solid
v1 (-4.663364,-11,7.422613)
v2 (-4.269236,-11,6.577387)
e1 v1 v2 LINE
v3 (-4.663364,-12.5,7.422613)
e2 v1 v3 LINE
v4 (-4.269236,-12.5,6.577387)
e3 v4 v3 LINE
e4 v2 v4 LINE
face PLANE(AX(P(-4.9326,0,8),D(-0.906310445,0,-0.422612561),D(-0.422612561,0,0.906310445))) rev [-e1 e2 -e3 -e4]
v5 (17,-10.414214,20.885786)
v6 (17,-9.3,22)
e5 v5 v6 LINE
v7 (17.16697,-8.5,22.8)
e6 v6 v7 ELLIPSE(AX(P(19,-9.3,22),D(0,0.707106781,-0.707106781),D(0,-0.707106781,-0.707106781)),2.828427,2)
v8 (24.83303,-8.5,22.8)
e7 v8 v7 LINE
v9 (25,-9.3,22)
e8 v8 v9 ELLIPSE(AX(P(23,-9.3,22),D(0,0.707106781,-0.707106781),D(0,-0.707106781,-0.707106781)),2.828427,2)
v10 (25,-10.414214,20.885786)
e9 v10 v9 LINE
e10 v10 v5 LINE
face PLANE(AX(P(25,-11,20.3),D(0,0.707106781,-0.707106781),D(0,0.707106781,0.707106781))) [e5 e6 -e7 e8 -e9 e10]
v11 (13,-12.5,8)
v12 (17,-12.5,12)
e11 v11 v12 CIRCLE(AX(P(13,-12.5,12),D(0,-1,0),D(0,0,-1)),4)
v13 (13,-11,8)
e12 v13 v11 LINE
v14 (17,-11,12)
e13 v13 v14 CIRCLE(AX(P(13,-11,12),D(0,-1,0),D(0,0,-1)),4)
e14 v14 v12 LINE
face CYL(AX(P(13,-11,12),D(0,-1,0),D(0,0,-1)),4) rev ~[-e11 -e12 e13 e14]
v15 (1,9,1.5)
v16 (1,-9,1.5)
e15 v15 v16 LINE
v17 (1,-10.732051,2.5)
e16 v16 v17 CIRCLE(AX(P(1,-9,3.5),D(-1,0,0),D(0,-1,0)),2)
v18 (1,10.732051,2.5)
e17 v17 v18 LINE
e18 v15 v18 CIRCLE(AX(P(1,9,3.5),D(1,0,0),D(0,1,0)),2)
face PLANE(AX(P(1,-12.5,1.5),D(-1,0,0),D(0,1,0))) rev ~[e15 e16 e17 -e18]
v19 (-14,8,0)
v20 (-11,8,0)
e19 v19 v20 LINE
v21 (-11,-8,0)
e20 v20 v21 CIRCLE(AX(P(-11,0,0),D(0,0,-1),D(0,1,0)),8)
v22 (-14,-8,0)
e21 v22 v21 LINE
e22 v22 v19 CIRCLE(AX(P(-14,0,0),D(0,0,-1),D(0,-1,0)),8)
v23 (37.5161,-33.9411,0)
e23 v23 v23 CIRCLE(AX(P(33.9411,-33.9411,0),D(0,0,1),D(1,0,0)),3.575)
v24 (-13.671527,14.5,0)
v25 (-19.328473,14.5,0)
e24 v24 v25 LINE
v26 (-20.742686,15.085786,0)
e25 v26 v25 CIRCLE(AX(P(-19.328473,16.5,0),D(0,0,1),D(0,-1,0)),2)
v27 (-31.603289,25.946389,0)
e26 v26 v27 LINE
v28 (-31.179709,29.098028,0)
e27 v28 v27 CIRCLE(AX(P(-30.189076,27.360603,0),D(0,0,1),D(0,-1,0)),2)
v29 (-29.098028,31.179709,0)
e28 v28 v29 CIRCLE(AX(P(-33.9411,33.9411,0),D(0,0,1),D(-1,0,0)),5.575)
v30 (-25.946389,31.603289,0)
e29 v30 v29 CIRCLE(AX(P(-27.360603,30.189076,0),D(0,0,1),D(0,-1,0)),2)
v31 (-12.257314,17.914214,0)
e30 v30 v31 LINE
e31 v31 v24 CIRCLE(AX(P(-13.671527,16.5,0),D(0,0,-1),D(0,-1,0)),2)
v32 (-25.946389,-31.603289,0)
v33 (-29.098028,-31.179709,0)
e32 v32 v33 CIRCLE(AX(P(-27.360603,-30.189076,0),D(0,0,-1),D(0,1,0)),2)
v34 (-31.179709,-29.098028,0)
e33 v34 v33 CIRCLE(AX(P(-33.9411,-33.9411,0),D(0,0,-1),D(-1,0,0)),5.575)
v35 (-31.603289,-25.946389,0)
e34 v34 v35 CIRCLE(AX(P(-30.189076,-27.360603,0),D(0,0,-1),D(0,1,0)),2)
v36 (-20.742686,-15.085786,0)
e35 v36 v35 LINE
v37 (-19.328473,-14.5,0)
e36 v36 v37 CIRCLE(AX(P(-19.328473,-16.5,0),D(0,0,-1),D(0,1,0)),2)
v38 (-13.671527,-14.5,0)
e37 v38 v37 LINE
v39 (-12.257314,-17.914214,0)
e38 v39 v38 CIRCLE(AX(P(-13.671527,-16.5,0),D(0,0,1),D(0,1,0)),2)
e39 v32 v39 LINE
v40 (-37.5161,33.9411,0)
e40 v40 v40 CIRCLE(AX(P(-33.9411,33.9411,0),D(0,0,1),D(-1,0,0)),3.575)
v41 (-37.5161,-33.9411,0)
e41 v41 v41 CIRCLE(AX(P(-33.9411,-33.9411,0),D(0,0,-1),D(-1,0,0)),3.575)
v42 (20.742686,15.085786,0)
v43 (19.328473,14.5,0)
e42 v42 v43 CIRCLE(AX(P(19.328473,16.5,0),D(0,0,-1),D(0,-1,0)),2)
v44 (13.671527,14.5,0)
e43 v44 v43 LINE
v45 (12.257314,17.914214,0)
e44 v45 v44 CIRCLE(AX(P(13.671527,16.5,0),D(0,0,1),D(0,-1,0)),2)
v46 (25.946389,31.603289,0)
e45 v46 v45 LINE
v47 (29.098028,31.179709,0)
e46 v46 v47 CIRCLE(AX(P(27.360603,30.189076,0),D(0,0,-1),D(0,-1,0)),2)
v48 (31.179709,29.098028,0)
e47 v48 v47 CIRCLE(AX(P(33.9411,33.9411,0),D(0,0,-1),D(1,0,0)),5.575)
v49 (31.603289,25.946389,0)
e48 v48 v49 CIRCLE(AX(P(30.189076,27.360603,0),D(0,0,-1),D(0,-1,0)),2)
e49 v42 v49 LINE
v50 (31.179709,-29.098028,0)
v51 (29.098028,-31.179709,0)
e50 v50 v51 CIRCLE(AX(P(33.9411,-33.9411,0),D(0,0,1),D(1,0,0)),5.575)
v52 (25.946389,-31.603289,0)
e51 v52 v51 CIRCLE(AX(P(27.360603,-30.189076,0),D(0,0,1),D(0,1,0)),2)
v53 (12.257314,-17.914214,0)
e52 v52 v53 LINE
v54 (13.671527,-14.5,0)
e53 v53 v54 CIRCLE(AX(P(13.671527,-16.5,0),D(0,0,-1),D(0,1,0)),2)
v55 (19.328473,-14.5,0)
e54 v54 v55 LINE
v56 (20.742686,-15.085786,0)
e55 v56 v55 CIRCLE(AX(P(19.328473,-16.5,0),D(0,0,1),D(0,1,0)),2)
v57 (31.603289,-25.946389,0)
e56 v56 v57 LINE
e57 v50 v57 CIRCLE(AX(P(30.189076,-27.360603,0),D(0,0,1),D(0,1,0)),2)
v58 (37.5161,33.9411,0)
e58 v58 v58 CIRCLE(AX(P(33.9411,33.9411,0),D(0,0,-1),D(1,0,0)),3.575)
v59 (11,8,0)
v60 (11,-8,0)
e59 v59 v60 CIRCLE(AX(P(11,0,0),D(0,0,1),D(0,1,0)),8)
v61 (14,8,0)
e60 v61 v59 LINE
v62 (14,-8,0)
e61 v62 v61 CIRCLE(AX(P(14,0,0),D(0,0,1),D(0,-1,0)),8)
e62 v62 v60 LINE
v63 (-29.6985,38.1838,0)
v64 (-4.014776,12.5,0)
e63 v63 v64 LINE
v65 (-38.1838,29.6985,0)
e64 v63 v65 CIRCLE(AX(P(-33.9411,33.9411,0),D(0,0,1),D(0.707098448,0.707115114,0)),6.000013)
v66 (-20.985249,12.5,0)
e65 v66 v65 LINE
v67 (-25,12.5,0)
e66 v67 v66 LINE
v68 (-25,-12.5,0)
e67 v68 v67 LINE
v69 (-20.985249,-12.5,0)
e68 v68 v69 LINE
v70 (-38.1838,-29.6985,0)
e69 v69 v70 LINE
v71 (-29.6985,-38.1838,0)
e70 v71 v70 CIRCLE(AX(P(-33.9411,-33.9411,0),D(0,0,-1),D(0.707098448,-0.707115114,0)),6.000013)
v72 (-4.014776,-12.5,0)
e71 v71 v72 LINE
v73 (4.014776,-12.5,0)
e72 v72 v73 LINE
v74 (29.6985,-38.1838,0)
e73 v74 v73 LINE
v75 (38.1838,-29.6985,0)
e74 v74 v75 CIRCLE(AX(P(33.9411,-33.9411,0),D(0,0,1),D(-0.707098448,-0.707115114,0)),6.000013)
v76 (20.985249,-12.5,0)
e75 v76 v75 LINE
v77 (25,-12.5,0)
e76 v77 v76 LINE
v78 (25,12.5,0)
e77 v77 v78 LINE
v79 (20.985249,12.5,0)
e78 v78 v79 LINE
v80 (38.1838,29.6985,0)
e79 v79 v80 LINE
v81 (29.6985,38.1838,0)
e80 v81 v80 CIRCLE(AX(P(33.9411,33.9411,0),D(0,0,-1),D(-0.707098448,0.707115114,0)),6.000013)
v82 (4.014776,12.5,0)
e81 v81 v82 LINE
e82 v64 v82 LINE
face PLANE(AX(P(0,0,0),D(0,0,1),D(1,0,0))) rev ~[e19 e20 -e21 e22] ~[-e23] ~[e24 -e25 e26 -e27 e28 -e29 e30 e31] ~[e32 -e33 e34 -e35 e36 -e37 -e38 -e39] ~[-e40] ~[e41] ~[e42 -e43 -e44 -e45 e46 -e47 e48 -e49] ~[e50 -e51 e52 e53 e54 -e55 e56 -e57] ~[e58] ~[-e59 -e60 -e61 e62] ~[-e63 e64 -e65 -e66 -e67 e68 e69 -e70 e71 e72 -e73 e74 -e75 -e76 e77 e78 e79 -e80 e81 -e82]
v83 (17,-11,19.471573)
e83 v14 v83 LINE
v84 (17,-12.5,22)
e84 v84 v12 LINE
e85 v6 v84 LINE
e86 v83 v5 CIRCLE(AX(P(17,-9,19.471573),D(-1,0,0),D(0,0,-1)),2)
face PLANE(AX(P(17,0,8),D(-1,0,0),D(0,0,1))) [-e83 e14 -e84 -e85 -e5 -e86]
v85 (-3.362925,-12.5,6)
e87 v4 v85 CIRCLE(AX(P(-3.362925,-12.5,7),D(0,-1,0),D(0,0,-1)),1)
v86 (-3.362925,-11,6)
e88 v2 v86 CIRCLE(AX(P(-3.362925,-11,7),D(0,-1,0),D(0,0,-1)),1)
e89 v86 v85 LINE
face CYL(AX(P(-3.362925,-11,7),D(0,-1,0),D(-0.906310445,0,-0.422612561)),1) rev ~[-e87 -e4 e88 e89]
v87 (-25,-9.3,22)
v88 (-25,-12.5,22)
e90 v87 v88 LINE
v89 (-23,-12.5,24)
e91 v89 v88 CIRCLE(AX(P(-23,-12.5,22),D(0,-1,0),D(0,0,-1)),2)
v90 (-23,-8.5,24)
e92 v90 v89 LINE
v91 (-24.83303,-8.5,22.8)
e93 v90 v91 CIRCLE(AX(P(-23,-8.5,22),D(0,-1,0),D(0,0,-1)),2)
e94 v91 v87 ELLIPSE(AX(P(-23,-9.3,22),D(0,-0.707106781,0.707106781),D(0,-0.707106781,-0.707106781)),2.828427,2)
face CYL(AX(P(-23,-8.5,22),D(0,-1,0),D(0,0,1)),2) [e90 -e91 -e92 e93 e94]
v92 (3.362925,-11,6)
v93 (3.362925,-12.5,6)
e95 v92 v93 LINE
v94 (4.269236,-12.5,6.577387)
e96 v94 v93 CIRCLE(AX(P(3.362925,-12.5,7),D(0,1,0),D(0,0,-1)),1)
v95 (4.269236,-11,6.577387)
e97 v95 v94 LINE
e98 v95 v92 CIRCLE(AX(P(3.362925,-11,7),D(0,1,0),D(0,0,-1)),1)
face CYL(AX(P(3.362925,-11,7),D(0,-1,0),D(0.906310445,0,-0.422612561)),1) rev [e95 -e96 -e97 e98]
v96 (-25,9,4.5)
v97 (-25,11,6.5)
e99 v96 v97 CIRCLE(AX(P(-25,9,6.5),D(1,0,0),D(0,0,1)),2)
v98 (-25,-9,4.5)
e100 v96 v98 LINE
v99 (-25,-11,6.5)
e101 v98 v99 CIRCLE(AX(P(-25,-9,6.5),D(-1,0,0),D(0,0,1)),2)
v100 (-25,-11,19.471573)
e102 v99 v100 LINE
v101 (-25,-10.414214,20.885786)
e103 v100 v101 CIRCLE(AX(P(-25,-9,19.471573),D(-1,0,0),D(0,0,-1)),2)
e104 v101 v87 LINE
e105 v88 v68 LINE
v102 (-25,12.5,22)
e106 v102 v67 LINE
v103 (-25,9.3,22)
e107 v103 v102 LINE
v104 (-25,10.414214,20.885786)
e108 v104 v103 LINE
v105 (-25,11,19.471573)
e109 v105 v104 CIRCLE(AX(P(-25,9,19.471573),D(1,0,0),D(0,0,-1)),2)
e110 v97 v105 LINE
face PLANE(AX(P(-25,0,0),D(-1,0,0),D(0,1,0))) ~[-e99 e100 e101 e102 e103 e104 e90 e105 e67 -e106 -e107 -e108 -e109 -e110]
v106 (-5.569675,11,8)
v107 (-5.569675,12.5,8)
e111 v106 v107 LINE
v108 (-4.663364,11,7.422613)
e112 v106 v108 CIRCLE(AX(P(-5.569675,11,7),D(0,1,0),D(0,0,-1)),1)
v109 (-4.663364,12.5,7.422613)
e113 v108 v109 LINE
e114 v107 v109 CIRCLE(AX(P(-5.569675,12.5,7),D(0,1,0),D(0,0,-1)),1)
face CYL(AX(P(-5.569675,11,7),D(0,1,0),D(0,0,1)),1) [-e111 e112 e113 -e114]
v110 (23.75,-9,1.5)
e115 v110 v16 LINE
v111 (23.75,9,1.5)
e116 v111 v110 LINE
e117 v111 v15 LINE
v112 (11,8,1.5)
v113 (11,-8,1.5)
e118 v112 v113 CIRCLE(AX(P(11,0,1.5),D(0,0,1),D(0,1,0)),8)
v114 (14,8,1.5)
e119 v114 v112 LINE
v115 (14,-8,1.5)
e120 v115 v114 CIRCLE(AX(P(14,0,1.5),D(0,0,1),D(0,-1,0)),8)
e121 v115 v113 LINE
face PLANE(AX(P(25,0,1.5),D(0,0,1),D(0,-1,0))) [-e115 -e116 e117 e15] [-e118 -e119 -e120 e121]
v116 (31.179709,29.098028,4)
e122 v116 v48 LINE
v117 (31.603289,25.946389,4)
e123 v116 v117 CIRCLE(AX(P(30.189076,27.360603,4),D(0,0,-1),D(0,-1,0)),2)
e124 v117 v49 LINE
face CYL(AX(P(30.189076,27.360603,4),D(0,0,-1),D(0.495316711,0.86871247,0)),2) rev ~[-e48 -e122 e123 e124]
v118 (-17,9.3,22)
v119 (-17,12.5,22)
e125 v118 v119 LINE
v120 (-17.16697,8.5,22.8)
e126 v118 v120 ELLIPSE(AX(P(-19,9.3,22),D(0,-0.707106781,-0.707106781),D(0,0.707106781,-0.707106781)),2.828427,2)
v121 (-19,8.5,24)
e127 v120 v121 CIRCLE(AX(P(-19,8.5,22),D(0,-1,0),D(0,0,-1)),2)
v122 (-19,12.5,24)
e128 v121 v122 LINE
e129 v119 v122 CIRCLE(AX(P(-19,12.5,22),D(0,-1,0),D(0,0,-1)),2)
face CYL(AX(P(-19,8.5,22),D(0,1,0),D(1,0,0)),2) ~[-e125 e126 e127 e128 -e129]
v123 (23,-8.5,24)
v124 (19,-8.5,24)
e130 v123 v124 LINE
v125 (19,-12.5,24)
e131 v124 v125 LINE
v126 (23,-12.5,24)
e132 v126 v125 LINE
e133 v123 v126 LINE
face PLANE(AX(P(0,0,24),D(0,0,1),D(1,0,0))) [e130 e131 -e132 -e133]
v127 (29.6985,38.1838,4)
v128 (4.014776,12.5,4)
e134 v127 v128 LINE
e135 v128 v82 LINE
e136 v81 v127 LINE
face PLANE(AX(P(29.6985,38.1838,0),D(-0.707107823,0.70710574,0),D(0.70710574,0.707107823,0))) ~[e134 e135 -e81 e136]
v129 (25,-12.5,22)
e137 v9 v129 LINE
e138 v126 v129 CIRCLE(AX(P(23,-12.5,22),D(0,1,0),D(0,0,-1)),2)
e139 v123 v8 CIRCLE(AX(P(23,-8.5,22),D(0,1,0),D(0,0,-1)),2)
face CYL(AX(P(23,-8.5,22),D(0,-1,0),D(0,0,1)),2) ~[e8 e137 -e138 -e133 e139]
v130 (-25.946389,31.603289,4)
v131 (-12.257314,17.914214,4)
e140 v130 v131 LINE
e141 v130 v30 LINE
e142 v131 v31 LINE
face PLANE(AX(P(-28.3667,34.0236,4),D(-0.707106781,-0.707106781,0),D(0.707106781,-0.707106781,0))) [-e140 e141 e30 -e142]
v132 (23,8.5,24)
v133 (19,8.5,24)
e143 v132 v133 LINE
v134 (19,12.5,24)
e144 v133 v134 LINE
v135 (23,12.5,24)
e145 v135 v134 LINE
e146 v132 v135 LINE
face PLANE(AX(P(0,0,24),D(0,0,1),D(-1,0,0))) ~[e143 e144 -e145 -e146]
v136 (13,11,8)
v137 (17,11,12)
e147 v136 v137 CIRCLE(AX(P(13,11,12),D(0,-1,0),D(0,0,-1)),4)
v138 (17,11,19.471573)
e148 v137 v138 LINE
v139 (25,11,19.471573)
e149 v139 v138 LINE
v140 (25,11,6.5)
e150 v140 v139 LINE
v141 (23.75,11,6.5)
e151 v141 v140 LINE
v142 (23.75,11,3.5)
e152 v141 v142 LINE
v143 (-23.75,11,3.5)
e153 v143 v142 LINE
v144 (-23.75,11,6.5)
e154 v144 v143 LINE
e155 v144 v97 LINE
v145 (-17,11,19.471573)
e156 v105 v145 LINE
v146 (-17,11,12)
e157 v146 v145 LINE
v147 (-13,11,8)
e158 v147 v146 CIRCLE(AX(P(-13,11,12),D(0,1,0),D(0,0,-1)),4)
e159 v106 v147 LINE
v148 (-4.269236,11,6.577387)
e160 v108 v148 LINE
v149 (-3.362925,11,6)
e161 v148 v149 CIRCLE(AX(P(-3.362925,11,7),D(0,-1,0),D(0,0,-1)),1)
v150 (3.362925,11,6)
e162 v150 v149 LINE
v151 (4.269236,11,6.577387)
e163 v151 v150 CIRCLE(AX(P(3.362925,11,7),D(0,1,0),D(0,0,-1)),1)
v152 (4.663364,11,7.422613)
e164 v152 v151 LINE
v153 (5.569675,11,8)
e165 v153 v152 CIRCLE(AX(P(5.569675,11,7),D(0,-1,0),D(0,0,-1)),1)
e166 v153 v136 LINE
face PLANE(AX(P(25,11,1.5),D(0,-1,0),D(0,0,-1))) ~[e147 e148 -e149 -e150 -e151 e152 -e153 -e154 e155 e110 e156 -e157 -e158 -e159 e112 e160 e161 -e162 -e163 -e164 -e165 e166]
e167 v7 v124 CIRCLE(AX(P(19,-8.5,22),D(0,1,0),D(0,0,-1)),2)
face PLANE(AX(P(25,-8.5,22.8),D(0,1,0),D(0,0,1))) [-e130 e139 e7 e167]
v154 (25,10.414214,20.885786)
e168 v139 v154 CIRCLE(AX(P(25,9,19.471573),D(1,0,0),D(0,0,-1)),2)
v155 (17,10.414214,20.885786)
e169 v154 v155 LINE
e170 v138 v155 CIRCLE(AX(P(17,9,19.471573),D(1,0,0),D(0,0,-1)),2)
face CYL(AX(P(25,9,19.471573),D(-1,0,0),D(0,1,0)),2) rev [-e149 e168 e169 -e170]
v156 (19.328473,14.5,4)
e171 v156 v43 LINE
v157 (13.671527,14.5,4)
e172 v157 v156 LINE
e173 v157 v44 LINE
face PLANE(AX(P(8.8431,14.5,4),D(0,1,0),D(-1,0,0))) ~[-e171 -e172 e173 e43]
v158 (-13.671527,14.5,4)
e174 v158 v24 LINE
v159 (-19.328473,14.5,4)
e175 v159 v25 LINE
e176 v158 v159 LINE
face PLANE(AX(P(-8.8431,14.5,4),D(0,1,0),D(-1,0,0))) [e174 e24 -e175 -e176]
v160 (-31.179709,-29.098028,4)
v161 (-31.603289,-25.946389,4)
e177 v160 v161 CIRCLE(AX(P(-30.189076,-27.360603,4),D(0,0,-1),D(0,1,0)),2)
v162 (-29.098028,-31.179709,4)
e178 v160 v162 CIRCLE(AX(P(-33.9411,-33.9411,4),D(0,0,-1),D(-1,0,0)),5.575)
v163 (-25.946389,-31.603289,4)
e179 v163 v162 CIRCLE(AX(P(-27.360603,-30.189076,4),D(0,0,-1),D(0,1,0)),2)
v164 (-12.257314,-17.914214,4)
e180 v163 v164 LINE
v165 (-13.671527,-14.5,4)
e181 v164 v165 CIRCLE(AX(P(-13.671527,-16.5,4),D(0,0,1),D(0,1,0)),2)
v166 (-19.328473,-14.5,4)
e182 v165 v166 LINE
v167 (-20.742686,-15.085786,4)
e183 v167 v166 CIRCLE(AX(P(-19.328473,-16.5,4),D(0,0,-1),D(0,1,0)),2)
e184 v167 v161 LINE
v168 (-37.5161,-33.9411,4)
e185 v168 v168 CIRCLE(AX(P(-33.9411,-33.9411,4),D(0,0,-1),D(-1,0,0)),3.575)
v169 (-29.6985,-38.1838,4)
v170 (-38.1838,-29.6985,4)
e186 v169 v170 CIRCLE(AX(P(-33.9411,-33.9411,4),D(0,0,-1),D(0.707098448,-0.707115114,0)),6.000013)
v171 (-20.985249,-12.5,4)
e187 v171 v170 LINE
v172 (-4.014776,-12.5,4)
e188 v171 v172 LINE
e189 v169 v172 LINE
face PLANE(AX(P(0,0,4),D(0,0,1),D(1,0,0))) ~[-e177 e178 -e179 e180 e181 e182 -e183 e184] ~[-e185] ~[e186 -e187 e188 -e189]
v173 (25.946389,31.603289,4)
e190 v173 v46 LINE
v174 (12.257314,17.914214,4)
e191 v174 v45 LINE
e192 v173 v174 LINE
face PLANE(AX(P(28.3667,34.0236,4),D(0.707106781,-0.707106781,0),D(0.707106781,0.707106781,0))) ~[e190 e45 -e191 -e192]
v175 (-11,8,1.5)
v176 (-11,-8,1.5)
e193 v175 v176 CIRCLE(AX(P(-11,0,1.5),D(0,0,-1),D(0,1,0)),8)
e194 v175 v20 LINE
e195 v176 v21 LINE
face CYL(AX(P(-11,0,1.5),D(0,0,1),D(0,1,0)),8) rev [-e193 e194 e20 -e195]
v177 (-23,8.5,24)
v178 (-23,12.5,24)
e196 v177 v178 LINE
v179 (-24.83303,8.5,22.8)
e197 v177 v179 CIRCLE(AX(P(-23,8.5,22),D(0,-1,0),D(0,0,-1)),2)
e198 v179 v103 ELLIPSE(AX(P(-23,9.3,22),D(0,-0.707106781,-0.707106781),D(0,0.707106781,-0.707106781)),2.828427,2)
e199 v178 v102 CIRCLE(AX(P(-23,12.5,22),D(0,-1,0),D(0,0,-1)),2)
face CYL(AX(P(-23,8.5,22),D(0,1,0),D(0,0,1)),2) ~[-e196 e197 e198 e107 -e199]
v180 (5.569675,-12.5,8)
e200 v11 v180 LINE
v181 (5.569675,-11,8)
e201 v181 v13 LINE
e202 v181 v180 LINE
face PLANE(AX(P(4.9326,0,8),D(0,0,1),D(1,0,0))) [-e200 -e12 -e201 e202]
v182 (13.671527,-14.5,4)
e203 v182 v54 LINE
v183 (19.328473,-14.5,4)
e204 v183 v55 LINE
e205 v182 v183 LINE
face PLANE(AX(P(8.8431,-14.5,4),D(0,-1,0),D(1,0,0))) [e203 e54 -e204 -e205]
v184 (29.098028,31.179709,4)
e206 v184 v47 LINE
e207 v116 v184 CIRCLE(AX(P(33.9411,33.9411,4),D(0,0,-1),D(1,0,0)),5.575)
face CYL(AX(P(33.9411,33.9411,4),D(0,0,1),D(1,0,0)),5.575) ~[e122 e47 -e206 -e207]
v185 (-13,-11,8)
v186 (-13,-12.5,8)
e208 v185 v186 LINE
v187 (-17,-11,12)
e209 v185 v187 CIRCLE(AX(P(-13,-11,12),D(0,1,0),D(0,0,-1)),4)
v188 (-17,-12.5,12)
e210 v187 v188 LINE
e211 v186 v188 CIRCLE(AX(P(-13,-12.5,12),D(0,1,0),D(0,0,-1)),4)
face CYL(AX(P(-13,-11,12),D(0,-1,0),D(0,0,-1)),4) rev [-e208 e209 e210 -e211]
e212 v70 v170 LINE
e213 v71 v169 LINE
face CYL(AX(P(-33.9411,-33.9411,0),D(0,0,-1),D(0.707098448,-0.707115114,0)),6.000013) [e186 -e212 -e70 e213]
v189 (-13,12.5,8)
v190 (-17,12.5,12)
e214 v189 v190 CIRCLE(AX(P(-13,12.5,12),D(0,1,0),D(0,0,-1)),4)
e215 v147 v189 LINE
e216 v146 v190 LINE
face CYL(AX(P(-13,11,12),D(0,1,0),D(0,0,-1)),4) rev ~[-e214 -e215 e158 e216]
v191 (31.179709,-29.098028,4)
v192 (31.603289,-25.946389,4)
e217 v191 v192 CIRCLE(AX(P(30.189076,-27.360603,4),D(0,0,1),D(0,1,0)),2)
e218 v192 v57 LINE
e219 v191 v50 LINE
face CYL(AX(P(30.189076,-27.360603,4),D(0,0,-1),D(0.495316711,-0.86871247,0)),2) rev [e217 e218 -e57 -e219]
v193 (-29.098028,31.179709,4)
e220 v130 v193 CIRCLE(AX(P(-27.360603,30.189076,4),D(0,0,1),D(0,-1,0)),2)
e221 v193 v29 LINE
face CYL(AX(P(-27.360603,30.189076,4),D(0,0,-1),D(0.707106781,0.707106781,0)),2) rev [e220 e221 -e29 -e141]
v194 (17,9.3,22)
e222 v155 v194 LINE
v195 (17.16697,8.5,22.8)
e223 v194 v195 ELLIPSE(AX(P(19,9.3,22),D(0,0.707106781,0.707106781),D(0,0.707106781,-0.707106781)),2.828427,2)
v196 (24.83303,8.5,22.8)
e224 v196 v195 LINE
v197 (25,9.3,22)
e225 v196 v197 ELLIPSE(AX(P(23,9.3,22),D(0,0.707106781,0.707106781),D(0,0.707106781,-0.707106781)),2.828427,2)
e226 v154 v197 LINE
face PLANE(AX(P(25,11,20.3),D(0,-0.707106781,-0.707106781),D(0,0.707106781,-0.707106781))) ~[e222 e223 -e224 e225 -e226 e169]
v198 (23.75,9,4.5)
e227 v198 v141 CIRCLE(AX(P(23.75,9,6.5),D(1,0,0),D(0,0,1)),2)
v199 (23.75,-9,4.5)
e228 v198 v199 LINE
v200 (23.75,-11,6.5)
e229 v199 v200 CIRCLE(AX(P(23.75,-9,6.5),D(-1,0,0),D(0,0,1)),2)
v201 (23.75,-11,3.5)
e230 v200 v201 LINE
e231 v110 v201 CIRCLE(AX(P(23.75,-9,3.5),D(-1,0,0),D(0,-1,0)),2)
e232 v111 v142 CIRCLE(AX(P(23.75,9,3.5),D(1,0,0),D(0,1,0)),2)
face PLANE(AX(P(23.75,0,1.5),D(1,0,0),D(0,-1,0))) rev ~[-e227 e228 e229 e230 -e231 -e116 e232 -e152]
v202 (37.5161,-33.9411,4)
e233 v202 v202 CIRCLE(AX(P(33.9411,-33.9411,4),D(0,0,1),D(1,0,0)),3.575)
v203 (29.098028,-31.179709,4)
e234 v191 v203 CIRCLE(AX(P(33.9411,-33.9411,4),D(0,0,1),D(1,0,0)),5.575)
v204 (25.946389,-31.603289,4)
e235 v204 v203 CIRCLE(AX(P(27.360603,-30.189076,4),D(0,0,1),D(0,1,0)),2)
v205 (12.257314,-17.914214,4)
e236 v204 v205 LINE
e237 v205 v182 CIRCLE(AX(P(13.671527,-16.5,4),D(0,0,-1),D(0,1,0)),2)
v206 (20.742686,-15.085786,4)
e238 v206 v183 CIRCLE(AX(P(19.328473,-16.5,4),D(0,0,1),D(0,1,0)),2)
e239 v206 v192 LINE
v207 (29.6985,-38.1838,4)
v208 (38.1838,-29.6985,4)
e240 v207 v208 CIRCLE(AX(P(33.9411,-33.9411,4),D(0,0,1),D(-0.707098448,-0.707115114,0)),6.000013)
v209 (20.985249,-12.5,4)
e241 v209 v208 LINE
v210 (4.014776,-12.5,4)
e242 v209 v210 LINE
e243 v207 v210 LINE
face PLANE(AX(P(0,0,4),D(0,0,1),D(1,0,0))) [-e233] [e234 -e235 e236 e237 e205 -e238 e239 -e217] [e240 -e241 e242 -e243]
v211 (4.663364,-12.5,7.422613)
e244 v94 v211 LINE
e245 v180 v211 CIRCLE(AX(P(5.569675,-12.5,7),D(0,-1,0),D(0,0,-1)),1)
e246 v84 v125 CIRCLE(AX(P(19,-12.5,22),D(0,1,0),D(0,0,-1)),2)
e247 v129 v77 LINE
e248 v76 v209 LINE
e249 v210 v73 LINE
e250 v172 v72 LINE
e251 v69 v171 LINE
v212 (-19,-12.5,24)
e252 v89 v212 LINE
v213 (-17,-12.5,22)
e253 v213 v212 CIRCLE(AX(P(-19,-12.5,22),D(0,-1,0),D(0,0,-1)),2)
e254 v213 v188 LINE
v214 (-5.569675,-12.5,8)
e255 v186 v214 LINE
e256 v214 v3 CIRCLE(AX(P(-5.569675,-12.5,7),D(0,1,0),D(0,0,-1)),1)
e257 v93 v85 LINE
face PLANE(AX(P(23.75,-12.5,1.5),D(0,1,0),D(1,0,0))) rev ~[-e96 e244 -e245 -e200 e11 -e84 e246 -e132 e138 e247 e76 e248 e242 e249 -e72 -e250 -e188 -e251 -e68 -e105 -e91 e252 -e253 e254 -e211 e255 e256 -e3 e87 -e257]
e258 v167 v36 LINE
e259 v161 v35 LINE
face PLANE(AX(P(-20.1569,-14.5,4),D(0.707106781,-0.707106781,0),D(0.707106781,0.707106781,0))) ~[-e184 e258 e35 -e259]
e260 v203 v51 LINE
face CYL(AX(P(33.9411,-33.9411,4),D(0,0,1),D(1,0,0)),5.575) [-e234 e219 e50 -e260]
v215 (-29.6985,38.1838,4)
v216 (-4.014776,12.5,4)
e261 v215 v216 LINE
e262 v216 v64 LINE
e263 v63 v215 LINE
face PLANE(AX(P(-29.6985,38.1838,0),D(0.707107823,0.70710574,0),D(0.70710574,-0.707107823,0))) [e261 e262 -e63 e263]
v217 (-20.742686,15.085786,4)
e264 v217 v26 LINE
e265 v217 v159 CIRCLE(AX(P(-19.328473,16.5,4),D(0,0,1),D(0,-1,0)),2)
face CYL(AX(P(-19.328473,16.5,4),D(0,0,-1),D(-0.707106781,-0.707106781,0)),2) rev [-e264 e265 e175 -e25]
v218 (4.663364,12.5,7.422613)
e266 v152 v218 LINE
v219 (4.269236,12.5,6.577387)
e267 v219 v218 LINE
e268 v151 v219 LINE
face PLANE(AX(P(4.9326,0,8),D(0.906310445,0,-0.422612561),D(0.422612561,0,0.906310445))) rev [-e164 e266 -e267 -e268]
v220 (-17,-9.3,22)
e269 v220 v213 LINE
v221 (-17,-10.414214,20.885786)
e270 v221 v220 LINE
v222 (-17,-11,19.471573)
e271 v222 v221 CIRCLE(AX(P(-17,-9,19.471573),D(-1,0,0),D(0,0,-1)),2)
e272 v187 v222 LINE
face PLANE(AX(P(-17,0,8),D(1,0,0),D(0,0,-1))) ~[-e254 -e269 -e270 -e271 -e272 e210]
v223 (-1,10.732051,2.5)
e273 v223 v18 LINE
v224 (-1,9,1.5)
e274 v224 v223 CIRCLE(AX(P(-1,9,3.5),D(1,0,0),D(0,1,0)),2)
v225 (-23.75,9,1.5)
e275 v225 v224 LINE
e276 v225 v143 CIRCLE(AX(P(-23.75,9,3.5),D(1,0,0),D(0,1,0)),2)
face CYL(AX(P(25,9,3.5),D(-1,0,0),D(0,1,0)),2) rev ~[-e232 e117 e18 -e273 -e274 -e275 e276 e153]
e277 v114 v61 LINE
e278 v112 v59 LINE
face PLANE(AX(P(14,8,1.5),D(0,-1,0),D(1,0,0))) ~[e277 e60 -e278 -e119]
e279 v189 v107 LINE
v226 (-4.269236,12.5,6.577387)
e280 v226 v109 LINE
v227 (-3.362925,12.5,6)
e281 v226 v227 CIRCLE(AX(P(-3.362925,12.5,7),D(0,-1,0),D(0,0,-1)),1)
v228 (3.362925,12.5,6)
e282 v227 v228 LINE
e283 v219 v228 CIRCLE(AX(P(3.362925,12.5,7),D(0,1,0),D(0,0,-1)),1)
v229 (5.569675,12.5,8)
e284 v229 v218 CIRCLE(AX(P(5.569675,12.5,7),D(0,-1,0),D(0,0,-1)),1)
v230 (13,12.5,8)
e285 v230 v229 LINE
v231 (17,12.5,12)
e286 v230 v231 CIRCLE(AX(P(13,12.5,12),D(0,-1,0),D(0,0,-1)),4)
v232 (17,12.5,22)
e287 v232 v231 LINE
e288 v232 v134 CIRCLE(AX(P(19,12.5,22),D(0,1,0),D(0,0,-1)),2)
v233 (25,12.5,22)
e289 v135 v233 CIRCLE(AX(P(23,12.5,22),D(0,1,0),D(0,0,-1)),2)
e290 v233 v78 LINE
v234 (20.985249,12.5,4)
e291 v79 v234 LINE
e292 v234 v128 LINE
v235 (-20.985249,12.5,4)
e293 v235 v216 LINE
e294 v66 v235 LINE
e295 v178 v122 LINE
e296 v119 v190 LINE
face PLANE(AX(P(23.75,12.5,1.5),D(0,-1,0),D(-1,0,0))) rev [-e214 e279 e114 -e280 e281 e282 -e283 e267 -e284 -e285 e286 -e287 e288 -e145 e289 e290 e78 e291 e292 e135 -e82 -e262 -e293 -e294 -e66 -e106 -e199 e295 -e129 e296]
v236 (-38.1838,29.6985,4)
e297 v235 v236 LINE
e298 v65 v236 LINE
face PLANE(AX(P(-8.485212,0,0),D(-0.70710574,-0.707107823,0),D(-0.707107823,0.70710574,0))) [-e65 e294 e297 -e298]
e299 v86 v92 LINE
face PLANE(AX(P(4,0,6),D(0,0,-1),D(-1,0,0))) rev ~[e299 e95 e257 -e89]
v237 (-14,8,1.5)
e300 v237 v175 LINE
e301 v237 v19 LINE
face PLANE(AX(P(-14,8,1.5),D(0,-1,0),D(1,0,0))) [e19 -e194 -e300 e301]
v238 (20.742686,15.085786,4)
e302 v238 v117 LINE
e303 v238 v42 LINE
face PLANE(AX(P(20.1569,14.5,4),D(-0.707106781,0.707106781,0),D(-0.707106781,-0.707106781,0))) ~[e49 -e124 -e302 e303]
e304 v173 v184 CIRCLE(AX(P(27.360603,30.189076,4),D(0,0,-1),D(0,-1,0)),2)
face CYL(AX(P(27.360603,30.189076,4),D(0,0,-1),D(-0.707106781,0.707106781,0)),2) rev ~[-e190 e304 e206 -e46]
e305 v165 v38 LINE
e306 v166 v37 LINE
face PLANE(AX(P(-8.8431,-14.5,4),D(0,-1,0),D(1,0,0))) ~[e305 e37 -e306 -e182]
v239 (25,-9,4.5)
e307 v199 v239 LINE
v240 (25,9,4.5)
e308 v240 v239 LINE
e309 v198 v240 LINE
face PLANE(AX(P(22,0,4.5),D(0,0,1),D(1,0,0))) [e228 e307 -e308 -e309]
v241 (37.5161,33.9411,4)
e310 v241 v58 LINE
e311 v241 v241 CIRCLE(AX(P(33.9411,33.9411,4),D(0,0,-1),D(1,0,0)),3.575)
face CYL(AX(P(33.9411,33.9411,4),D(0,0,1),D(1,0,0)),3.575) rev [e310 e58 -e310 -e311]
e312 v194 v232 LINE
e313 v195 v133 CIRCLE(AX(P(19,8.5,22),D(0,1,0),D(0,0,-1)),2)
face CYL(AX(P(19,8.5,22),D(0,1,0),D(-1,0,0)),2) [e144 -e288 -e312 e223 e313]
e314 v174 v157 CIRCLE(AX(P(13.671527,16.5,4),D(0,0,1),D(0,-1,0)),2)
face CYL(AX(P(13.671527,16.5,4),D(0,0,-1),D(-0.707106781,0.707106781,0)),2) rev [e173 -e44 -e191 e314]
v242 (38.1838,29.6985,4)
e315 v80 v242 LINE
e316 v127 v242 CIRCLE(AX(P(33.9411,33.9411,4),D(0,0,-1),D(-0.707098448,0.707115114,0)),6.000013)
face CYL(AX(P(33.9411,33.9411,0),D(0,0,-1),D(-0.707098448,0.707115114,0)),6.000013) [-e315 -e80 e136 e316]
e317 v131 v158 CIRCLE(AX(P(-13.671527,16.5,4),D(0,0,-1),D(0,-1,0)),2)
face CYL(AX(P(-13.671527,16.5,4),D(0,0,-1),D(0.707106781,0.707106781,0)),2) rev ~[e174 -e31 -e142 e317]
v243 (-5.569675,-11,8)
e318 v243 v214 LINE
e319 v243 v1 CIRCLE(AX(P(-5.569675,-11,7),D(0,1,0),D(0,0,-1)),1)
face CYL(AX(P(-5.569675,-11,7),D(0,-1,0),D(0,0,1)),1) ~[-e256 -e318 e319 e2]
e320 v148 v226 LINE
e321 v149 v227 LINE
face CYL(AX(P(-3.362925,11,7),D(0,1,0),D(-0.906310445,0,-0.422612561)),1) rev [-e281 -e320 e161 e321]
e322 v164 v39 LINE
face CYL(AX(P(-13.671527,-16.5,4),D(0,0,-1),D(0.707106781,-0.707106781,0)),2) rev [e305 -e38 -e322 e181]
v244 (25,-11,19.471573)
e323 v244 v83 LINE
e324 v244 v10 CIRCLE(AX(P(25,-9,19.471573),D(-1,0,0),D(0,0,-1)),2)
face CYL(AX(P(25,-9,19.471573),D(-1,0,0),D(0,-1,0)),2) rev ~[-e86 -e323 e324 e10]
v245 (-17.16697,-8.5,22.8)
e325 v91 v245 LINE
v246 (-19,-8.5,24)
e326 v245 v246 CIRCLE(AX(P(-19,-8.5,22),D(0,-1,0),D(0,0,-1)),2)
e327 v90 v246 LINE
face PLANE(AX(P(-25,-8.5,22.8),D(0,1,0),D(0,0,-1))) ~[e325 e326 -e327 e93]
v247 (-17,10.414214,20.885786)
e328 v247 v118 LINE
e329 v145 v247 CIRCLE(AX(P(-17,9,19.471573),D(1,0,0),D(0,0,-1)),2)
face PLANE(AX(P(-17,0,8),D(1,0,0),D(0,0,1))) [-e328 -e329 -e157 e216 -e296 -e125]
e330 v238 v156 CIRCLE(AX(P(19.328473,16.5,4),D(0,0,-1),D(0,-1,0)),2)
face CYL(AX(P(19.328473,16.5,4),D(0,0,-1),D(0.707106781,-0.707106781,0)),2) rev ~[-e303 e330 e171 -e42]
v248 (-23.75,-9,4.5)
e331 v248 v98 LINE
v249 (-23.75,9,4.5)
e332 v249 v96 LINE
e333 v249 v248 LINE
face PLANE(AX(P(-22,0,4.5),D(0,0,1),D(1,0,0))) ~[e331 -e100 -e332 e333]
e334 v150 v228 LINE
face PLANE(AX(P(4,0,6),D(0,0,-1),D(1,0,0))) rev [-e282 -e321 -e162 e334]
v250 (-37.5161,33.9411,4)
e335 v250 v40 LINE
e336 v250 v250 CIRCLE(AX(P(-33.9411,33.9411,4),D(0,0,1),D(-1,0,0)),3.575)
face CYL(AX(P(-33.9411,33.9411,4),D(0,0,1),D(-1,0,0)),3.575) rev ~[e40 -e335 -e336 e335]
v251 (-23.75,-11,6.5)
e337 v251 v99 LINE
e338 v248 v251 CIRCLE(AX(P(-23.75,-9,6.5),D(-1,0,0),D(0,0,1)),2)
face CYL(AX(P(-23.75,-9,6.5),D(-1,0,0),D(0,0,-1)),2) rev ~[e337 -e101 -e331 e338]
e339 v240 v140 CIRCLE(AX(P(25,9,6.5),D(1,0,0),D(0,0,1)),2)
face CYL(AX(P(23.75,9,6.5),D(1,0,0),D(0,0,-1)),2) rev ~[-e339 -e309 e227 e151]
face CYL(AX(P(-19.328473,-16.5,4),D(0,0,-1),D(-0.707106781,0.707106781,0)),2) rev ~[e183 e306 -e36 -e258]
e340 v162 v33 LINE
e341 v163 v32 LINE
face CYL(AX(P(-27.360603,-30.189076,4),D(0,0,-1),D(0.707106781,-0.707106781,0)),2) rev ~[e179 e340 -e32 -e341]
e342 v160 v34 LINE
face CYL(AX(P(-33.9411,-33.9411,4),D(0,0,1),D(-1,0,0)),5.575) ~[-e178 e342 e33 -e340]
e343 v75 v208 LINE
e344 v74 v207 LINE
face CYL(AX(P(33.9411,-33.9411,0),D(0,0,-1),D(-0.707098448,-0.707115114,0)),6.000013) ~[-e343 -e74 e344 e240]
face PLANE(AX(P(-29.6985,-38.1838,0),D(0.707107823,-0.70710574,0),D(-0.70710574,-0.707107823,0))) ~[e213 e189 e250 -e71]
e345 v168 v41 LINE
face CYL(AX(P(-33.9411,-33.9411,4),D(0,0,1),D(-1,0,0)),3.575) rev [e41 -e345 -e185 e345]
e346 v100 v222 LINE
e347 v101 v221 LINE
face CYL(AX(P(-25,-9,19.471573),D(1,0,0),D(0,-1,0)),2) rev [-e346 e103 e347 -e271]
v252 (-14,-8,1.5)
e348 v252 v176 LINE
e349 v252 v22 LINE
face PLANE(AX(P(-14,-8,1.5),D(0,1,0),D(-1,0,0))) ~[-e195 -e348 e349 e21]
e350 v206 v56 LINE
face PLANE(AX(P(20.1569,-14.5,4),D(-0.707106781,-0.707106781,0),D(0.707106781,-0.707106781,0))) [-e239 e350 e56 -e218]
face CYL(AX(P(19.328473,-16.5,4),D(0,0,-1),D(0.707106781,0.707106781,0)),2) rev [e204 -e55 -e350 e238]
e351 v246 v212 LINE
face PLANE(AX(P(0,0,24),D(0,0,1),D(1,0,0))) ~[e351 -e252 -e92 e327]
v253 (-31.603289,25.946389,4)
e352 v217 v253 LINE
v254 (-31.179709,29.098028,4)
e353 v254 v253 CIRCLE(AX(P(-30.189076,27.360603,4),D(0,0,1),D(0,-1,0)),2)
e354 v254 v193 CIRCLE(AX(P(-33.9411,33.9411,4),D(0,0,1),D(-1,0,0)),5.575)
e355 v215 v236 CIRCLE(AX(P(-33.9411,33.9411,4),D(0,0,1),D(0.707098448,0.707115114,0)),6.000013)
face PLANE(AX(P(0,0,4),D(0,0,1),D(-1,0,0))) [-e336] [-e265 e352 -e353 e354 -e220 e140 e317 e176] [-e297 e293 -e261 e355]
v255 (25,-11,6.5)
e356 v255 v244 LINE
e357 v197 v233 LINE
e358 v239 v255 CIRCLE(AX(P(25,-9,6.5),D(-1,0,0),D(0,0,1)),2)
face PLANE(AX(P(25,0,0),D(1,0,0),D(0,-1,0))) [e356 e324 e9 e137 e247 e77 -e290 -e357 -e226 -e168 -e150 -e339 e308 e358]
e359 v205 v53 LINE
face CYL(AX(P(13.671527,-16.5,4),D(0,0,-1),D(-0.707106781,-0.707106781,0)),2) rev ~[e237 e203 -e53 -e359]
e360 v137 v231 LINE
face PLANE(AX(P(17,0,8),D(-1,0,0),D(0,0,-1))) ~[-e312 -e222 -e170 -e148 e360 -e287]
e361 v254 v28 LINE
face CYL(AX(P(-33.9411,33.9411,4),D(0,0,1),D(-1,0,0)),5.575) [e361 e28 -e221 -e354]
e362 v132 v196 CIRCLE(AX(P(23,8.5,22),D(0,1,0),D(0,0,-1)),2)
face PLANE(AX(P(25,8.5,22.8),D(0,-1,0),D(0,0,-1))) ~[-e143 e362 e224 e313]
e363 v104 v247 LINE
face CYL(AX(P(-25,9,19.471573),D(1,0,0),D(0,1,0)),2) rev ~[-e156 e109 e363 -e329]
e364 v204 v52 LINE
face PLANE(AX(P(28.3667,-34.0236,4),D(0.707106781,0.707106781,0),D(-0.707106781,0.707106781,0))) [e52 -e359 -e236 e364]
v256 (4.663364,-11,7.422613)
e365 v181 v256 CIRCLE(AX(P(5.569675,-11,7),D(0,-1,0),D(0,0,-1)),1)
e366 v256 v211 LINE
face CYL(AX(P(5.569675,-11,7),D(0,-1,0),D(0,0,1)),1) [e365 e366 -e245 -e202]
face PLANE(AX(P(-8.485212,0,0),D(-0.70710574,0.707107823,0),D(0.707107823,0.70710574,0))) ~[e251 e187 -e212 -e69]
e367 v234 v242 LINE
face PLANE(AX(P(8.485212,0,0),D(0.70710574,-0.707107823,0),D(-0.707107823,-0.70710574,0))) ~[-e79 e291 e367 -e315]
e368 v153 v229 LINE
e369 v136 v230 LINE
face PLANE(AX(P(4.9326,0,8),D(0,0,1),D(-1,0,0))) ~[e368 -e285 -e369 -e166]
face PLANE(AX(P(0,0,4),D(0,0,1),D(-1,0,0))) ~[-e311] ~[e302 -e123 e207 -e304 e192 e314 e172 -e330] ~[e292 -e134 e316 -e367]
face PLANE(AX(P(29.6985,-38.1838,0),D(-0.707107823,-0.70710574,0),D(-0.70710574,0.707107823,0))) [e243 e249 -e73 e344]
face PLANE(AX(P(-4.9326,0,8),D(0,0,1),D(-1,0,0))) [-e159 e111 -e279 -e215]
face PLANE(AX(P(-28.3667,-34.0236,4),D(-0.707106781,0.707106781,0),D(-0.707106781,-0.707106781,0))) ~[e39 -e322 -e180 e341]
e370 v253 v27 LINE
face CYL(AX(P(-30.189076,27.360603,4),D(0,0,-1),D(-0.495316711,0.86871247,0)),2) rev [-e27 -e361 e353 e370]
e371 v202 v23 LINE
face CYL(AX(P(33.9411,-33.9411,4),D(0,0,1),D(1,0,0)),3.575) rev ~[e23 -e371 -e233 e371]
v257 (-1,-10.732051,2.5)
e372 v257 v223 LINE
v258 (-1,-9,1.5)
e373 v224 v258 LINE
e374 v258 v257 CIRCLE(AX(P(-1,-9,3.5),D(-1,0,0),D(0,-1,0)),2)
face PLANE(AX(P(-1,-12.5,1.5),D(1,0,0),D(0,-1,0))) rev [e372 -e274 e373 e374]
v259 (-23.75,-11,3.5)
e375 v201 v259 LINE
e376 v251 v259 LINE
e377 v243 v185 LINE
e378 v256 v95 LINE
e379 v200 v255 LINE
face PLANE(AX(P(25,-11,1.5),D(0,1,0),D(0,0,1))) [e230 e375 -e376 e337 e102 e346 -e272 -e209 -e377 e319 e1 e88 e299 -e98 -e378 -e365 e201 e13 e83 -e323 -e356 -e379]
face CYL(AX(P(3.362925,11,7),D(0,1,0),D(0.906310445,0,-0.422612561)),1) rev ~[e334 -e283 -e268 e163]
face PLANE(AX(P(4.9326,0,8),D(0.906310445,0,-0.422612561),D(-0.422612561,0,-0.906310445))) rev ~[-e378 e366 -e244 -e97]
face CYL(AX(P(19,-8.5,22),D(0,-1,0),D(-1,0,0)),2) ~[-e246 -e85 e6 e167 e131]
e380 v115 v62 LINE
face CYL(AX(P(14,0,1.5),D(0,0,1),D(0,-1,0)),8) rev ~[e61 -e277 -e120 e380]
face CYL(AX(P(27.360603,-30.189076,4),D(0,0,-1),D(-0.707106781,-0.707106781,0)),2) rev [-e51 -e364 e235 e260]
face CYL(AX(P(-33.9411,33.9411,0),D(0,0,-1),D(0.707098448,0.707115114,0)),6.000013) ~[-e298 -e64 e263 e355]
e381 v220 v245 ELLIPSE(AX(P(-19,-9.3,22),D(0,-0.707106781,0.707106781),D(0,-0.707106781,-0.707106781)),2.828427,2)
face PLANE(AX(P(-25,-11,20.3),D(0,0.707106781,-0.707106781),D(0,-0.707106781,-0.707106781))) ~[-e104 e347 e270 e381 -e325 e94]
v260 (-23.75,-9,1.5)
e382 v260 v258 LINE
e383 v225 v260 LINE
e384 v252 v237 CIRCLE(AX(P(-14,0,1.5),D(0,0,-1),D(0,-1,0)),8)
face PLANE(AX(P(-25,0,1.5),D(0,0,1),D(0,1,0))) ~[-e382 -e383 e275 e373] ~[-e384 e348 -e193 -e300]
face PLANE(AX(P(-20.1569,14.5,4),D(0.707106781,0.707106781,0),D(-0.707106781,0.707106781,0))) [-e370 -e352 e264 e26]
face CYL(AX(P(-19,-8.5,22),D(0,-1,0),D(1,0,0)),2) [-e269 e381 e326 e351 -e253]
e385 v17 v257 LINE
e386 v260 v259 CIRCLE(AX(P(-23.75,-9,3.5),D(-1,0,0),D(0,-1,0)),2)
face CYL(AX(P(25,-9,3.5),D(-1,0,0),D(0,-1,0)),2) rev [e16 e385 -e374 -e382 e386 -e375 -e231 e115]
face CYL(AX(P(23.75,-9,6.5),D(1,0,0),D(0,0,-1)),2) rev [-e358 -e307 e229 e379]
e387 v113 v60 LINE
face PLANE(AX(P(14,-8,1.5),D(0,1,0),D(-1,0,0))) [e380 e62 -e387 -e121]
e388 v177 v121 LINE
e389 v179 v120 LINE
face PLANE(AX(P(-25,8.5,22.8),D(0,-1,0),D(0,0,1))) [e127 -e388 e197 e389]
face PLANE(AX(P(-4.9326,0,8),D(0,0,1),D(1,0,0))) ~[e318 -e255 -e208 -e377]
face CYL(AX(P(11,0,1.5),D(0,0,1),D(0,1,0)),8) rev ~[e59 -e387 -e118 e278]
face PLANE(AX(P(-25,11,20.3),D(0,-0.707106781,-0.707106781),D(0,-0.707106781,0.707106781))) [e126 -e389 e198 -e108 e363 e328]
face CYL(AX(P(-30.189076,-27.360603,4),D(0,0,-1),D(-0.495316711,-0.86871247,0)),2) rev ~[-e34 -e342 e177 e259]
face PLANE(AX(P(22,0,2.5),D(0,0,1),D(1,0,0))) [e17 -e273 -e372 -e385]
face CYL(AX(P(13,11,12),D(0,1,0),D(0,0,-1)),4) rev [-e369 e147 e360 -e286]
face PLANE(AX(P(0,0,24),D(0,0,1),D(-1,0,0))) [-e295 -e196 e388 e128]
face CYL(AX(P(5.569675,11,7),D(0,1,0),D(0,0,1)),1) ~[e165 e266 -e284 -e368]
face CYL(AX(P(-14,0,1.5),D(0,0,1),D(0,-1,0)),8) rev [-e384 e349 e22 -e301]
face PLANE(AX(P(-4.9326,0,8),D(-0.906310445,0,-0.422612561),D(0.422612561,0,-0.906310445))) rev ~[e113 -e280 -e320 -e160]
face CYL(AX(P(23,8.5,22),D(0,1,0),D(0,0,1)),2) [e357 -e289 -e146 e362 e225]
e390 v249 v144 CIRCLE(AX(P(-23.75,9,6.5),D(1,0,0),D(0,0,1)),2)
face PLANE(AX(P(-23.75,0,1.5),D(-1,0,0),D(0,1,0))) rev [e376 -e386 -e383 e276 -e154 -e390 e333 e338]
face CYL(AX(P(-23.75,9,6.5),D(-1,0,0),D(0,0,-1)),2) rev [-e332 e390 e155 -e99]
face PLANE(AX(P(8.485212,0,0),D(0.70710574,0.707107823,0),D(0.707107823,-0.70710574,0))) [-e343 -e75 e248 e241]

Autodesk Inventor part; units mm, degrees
ref_plane "YZ Plane" through (0, 0, 0) normal (1, 0, 0) x (0, 1, 0)
ref_plane "XZ Plane" through (0, 0, 0) normal (0, 1, 0) x (-1, 0, 0)
ref_plane "XY Plane" through (0, 0, 0) normal (0, 0, 1) x (1, 0, 0)
sketch "Skizze1" plane through (0, 0, 0) normal (0, 0, 1) x (1, 0, 0)
  line L0 (-25, 0) -> (25, 0)
  line L1 (25, 0) -> (25, -12.5)
  line L2 (25, -12.5) -> (-25, -12.5)
  line L3 (-25, -12.5) -> (-25, 0)
  line L4 (0, 0) -> (0, -12.5)
  dimension "d0" = 50
  dimension "d1" = 12.5
extrude "Extrusion1" add sketch "Skizze1" along normal blind 24 contours L0 L1 L2 L4
sketch "Skizze24" plane through (0, 0, 0) normal (0, 0, 1) x (1, 0, 0)
  line L0 (0, 0) -> (33.9411, -33.9411) construction
  line L1 (4.2426, 4.2426) -> (38.1838, -29.6985)
  line L2 (29.6985, -38.1838) -> (-4.2426, -4.2426)
  arc A0 (4.2426, 4.2426) -> (-4.2426, -4.2426) centre (0, 0) ccw
  arc A1 (29.6985, -38.1838) -> (38.1838, -29.6985) centre (33.9411, -33.9411) ccw
  line L3 (0, 0) -> (0, -54.7704)
  line L4 (25, -12.5) -> (25, 0) projected
  line L5 (25, 0) -> (-45.4025, 0)
  point P0 (16.9706, -16.9706)
  point P1 (8.4853, 0)
  point P2 (-6, 0)
  point P3 (0, -8.4853)
  dimension "d137" = 45
  dimension "d138" = 48
  dimension "d139" = 12
extrude "Extrusion19" add sketch "Skizze24" along normal blind 4 contours L1 A1 L2 L3 L5
sketch "Skizze25" plane through (0, 0, 4) normal (0, 0, 1) x (1, 0, 0)
  arc A0 (29.6985, -38.1838) -> (38.1838, -29.6985) centre (33.9411, -33.9411) ccw projected
  circle A1 centre (33.9411, -33.9411) radius 3.575
  circle A2 centre (33.9411, -33.9411) radius 5.575
  line L0 (28.3667, -34.0236) -> (6.8431, -12.5)
  line L1 (0, -12.5) -> (25, -12.5) projected
  line L2 (18.1569, -12.5) -> (34.0236, -28.3667)
  line L3 (4.0147, -12.5) -> (29.6985, -38.1838) projected
  line L4 (38.1838, -29.6985) -> (20.9853, -12.5) projected
  line L5 (8.8431, -14.5) -> (20.1569, -14.5)
  point P0 (0, 0)
  point P1 (-35, -12.5)
  dimension "d142" = 7.15
  dimension "d143" = 2
  dimension "d144" = 2
  dimension "d145" = 2
  dimension "d149" = 2
extrude "Extrusion20" cut sketch "Skizze25" against normal through all contours L5 L2 A2 L0 | A1
fillet "Rundung14" radius 2 4 edges at (28.3667, -34.0236, 2) (34.0236, -28.3667, 2) (8.8431, -14.5, 2) (20.1569, -14.5, 2)
sketch "Skizze26" plane through (25, -12.5, 0) normal (1, 0, 0) x (0, 0, -1)
  line L0 (0, 12.5) -> (-24, 12.5) projected
  line L1 (-24, 12.5) -> (-1.5, 12.5)
  line L2 (-1.5, 12.5) -> (-1.5, 1.5)
  line L3 (-1.5, 1.5) -> (-24, 1.5)
  line L4 (-24, 1.5) -> (-24, 12.5)
  line L5 (0, 0) -> (0, 12.5) projected
  line L6 (0, 0) -> (-24, 0) projected
  line L7 (-20.3, 1.5) -> (-22.8, 4)
  line L8 (-22.8, 4) -> (-24, 4)
  point P0 (-1.5, 12.5)
  dimension "d151" = 1.5
  dimension "d152" = 1.5
  dimension "d166" = 2.5
  dimension "d167" = 1.2
  dimension "d168" = 45
extrude "Extrusion21" cut sketch "Skizze26" against normal blind 54.5 contours L2 L3 L7 L8 L4 L0
sketch "Skizze27" plane through (25, -11, 1.5) normal (0, 0, 1) x (1, 0, 0)
  line L0 (0, 11) -> (-25, 11) projected
  line L1 (-14, 11) -> (-11, 11) construction
  line L2 (-14, 19) -> (-11, 19)
  line L3 (-11, 3) -> (-14, 3)
  arc A0 (-14, 19) -> (-14, 3) centre (-14, 11) ccw
  arc A1 (-11, 3) -> (-11, 19) centre (-11, 11) ccw
  point P0 (-12.5, 11)
  point P1 (-3, 11)
  point P2 (-22, 11)
  dimension "d156" = 3
  dimension "d157" = 3
  dimension "d169" = 8
extrude "Extrusion22" cut sketch "Skizze27" against normal blind 54.5
fillet "Rundung16" radius 2 1 edges at (12.5, -11, 1.5)
sketch "Skizze28" plane through (0, 0, 0) normal (0, 1, 0) x (-1, 0, 0)
  line L0 (0, 24) -> (-25, 24) projected
  line L1 (-17, 24) -> (5.438, 24)
  line L2 (5.438, 24) -> (5.438, 8)
  line L3 (5.438, 8) -> (-17, 8)
  line L4 (-17, 8) -> (-17, 24)
  line L5 (-25, 0) -> (-25, 24) projected
  line L6 (-4.0147, 4) -> (-29.6985, 4) projected
  line L7 (-4.9326, 8) -> (-4, 6)
  line L8 (-4, 6) -> (0, 6)
  line L9 (0, 20.3) -> (0, 3.5) projected
  point P0 (0, 0)
  point P1 (0, 8)
  dimension "d161" = 8
  dimension "d162" = 4
  dimension "d178" = 2
  dimension "d179" = 4
  dimension "d180" = 115
extrude "Extrusion23" cut sketch "Skizze28" against normal through all
fillet "Rundung17" radius 4 1 edges at (17, -11.75, 8)
fillet "Rundung18" radius 2 2 edges at (25, -10.5, 24) (17, -10.5, 24)
sketch "Skizze29" plane through (22, 0, 1.5) normal (0, 0, 1) x (1, 0, 0)
  line L0 (-22, -12.5) -> (-17.9853, -12.5) projected
  line L1 (-19, 0) -> (-22, 0) projected
  line L2 (-22, -12.5) -> (-21, -12.5)
  line L3 (-21, -12.5) -> (-21, 0)
  line L4 (-21, 0) -> (-22, 0)
  line L5 (-22, 0) -> (-22, -12.5)
  line L6 (3, 0) -> (0, 0) projected
  line L7 (3, -12.5) -> (1, -12.5) projected
  line L8 (3, 0) -> (2, 0)
  line L9 (2, 0) -> (2, -12.5)
  line L10 (2, -12.5) -> (3, -12.5)
  line L11 (3, -12.5) -> (3, 0)
  point P0 (-21, -12.5)
  point P1 (3, -12.5)
  point P2 (2, 0)
  dimension "d171" = 1
  dimension "d175" = 1
extrude "Extrusion24" add sketch "Skizze29" along normal blind 1 contours L5 L1 L3 L0
fillet "Rundung19" radius 2 1 edges at (21, -11, 20.3)
fillet "Rundung22" radius 1 2 edges at (4.9326, -11.75, 8) (4, -11.75, 6)
sketch "Skizze30" plane through (22, 0, 1.5) normal (0, 0, 1) x (1, 0, 0)
  line L0 (3, -12.5) -> (3, 0) projected
  line L1 (-1.0147, -12.5) -> (3, -12.5) projected
  line L2 (3, 0) -> (1.75, 0)
  line L3 (1.75, 0) -> (1.75, -12.5)
  line L4 (1.75, -12.5) -> (3, -12.5)
  line L5 (3, -12.5) -> (3, 0)
  point P0 (-22, 0)
  dimension "d182" = 1.25
extrude "Extrusion25" add sketch "Skizze30" along normal blind 3
fillet "Rundung23" radius 2 1 edges at (24.375, -11, 4.5)
mirror "Spiegeln2" about plane through (0, 0, 0) normal (0, 1, 0)
mirror "Spiegeln3" about plane through (0, 0, 0) normal (1, 0, 0)
properties part number "P_DroneCase"
